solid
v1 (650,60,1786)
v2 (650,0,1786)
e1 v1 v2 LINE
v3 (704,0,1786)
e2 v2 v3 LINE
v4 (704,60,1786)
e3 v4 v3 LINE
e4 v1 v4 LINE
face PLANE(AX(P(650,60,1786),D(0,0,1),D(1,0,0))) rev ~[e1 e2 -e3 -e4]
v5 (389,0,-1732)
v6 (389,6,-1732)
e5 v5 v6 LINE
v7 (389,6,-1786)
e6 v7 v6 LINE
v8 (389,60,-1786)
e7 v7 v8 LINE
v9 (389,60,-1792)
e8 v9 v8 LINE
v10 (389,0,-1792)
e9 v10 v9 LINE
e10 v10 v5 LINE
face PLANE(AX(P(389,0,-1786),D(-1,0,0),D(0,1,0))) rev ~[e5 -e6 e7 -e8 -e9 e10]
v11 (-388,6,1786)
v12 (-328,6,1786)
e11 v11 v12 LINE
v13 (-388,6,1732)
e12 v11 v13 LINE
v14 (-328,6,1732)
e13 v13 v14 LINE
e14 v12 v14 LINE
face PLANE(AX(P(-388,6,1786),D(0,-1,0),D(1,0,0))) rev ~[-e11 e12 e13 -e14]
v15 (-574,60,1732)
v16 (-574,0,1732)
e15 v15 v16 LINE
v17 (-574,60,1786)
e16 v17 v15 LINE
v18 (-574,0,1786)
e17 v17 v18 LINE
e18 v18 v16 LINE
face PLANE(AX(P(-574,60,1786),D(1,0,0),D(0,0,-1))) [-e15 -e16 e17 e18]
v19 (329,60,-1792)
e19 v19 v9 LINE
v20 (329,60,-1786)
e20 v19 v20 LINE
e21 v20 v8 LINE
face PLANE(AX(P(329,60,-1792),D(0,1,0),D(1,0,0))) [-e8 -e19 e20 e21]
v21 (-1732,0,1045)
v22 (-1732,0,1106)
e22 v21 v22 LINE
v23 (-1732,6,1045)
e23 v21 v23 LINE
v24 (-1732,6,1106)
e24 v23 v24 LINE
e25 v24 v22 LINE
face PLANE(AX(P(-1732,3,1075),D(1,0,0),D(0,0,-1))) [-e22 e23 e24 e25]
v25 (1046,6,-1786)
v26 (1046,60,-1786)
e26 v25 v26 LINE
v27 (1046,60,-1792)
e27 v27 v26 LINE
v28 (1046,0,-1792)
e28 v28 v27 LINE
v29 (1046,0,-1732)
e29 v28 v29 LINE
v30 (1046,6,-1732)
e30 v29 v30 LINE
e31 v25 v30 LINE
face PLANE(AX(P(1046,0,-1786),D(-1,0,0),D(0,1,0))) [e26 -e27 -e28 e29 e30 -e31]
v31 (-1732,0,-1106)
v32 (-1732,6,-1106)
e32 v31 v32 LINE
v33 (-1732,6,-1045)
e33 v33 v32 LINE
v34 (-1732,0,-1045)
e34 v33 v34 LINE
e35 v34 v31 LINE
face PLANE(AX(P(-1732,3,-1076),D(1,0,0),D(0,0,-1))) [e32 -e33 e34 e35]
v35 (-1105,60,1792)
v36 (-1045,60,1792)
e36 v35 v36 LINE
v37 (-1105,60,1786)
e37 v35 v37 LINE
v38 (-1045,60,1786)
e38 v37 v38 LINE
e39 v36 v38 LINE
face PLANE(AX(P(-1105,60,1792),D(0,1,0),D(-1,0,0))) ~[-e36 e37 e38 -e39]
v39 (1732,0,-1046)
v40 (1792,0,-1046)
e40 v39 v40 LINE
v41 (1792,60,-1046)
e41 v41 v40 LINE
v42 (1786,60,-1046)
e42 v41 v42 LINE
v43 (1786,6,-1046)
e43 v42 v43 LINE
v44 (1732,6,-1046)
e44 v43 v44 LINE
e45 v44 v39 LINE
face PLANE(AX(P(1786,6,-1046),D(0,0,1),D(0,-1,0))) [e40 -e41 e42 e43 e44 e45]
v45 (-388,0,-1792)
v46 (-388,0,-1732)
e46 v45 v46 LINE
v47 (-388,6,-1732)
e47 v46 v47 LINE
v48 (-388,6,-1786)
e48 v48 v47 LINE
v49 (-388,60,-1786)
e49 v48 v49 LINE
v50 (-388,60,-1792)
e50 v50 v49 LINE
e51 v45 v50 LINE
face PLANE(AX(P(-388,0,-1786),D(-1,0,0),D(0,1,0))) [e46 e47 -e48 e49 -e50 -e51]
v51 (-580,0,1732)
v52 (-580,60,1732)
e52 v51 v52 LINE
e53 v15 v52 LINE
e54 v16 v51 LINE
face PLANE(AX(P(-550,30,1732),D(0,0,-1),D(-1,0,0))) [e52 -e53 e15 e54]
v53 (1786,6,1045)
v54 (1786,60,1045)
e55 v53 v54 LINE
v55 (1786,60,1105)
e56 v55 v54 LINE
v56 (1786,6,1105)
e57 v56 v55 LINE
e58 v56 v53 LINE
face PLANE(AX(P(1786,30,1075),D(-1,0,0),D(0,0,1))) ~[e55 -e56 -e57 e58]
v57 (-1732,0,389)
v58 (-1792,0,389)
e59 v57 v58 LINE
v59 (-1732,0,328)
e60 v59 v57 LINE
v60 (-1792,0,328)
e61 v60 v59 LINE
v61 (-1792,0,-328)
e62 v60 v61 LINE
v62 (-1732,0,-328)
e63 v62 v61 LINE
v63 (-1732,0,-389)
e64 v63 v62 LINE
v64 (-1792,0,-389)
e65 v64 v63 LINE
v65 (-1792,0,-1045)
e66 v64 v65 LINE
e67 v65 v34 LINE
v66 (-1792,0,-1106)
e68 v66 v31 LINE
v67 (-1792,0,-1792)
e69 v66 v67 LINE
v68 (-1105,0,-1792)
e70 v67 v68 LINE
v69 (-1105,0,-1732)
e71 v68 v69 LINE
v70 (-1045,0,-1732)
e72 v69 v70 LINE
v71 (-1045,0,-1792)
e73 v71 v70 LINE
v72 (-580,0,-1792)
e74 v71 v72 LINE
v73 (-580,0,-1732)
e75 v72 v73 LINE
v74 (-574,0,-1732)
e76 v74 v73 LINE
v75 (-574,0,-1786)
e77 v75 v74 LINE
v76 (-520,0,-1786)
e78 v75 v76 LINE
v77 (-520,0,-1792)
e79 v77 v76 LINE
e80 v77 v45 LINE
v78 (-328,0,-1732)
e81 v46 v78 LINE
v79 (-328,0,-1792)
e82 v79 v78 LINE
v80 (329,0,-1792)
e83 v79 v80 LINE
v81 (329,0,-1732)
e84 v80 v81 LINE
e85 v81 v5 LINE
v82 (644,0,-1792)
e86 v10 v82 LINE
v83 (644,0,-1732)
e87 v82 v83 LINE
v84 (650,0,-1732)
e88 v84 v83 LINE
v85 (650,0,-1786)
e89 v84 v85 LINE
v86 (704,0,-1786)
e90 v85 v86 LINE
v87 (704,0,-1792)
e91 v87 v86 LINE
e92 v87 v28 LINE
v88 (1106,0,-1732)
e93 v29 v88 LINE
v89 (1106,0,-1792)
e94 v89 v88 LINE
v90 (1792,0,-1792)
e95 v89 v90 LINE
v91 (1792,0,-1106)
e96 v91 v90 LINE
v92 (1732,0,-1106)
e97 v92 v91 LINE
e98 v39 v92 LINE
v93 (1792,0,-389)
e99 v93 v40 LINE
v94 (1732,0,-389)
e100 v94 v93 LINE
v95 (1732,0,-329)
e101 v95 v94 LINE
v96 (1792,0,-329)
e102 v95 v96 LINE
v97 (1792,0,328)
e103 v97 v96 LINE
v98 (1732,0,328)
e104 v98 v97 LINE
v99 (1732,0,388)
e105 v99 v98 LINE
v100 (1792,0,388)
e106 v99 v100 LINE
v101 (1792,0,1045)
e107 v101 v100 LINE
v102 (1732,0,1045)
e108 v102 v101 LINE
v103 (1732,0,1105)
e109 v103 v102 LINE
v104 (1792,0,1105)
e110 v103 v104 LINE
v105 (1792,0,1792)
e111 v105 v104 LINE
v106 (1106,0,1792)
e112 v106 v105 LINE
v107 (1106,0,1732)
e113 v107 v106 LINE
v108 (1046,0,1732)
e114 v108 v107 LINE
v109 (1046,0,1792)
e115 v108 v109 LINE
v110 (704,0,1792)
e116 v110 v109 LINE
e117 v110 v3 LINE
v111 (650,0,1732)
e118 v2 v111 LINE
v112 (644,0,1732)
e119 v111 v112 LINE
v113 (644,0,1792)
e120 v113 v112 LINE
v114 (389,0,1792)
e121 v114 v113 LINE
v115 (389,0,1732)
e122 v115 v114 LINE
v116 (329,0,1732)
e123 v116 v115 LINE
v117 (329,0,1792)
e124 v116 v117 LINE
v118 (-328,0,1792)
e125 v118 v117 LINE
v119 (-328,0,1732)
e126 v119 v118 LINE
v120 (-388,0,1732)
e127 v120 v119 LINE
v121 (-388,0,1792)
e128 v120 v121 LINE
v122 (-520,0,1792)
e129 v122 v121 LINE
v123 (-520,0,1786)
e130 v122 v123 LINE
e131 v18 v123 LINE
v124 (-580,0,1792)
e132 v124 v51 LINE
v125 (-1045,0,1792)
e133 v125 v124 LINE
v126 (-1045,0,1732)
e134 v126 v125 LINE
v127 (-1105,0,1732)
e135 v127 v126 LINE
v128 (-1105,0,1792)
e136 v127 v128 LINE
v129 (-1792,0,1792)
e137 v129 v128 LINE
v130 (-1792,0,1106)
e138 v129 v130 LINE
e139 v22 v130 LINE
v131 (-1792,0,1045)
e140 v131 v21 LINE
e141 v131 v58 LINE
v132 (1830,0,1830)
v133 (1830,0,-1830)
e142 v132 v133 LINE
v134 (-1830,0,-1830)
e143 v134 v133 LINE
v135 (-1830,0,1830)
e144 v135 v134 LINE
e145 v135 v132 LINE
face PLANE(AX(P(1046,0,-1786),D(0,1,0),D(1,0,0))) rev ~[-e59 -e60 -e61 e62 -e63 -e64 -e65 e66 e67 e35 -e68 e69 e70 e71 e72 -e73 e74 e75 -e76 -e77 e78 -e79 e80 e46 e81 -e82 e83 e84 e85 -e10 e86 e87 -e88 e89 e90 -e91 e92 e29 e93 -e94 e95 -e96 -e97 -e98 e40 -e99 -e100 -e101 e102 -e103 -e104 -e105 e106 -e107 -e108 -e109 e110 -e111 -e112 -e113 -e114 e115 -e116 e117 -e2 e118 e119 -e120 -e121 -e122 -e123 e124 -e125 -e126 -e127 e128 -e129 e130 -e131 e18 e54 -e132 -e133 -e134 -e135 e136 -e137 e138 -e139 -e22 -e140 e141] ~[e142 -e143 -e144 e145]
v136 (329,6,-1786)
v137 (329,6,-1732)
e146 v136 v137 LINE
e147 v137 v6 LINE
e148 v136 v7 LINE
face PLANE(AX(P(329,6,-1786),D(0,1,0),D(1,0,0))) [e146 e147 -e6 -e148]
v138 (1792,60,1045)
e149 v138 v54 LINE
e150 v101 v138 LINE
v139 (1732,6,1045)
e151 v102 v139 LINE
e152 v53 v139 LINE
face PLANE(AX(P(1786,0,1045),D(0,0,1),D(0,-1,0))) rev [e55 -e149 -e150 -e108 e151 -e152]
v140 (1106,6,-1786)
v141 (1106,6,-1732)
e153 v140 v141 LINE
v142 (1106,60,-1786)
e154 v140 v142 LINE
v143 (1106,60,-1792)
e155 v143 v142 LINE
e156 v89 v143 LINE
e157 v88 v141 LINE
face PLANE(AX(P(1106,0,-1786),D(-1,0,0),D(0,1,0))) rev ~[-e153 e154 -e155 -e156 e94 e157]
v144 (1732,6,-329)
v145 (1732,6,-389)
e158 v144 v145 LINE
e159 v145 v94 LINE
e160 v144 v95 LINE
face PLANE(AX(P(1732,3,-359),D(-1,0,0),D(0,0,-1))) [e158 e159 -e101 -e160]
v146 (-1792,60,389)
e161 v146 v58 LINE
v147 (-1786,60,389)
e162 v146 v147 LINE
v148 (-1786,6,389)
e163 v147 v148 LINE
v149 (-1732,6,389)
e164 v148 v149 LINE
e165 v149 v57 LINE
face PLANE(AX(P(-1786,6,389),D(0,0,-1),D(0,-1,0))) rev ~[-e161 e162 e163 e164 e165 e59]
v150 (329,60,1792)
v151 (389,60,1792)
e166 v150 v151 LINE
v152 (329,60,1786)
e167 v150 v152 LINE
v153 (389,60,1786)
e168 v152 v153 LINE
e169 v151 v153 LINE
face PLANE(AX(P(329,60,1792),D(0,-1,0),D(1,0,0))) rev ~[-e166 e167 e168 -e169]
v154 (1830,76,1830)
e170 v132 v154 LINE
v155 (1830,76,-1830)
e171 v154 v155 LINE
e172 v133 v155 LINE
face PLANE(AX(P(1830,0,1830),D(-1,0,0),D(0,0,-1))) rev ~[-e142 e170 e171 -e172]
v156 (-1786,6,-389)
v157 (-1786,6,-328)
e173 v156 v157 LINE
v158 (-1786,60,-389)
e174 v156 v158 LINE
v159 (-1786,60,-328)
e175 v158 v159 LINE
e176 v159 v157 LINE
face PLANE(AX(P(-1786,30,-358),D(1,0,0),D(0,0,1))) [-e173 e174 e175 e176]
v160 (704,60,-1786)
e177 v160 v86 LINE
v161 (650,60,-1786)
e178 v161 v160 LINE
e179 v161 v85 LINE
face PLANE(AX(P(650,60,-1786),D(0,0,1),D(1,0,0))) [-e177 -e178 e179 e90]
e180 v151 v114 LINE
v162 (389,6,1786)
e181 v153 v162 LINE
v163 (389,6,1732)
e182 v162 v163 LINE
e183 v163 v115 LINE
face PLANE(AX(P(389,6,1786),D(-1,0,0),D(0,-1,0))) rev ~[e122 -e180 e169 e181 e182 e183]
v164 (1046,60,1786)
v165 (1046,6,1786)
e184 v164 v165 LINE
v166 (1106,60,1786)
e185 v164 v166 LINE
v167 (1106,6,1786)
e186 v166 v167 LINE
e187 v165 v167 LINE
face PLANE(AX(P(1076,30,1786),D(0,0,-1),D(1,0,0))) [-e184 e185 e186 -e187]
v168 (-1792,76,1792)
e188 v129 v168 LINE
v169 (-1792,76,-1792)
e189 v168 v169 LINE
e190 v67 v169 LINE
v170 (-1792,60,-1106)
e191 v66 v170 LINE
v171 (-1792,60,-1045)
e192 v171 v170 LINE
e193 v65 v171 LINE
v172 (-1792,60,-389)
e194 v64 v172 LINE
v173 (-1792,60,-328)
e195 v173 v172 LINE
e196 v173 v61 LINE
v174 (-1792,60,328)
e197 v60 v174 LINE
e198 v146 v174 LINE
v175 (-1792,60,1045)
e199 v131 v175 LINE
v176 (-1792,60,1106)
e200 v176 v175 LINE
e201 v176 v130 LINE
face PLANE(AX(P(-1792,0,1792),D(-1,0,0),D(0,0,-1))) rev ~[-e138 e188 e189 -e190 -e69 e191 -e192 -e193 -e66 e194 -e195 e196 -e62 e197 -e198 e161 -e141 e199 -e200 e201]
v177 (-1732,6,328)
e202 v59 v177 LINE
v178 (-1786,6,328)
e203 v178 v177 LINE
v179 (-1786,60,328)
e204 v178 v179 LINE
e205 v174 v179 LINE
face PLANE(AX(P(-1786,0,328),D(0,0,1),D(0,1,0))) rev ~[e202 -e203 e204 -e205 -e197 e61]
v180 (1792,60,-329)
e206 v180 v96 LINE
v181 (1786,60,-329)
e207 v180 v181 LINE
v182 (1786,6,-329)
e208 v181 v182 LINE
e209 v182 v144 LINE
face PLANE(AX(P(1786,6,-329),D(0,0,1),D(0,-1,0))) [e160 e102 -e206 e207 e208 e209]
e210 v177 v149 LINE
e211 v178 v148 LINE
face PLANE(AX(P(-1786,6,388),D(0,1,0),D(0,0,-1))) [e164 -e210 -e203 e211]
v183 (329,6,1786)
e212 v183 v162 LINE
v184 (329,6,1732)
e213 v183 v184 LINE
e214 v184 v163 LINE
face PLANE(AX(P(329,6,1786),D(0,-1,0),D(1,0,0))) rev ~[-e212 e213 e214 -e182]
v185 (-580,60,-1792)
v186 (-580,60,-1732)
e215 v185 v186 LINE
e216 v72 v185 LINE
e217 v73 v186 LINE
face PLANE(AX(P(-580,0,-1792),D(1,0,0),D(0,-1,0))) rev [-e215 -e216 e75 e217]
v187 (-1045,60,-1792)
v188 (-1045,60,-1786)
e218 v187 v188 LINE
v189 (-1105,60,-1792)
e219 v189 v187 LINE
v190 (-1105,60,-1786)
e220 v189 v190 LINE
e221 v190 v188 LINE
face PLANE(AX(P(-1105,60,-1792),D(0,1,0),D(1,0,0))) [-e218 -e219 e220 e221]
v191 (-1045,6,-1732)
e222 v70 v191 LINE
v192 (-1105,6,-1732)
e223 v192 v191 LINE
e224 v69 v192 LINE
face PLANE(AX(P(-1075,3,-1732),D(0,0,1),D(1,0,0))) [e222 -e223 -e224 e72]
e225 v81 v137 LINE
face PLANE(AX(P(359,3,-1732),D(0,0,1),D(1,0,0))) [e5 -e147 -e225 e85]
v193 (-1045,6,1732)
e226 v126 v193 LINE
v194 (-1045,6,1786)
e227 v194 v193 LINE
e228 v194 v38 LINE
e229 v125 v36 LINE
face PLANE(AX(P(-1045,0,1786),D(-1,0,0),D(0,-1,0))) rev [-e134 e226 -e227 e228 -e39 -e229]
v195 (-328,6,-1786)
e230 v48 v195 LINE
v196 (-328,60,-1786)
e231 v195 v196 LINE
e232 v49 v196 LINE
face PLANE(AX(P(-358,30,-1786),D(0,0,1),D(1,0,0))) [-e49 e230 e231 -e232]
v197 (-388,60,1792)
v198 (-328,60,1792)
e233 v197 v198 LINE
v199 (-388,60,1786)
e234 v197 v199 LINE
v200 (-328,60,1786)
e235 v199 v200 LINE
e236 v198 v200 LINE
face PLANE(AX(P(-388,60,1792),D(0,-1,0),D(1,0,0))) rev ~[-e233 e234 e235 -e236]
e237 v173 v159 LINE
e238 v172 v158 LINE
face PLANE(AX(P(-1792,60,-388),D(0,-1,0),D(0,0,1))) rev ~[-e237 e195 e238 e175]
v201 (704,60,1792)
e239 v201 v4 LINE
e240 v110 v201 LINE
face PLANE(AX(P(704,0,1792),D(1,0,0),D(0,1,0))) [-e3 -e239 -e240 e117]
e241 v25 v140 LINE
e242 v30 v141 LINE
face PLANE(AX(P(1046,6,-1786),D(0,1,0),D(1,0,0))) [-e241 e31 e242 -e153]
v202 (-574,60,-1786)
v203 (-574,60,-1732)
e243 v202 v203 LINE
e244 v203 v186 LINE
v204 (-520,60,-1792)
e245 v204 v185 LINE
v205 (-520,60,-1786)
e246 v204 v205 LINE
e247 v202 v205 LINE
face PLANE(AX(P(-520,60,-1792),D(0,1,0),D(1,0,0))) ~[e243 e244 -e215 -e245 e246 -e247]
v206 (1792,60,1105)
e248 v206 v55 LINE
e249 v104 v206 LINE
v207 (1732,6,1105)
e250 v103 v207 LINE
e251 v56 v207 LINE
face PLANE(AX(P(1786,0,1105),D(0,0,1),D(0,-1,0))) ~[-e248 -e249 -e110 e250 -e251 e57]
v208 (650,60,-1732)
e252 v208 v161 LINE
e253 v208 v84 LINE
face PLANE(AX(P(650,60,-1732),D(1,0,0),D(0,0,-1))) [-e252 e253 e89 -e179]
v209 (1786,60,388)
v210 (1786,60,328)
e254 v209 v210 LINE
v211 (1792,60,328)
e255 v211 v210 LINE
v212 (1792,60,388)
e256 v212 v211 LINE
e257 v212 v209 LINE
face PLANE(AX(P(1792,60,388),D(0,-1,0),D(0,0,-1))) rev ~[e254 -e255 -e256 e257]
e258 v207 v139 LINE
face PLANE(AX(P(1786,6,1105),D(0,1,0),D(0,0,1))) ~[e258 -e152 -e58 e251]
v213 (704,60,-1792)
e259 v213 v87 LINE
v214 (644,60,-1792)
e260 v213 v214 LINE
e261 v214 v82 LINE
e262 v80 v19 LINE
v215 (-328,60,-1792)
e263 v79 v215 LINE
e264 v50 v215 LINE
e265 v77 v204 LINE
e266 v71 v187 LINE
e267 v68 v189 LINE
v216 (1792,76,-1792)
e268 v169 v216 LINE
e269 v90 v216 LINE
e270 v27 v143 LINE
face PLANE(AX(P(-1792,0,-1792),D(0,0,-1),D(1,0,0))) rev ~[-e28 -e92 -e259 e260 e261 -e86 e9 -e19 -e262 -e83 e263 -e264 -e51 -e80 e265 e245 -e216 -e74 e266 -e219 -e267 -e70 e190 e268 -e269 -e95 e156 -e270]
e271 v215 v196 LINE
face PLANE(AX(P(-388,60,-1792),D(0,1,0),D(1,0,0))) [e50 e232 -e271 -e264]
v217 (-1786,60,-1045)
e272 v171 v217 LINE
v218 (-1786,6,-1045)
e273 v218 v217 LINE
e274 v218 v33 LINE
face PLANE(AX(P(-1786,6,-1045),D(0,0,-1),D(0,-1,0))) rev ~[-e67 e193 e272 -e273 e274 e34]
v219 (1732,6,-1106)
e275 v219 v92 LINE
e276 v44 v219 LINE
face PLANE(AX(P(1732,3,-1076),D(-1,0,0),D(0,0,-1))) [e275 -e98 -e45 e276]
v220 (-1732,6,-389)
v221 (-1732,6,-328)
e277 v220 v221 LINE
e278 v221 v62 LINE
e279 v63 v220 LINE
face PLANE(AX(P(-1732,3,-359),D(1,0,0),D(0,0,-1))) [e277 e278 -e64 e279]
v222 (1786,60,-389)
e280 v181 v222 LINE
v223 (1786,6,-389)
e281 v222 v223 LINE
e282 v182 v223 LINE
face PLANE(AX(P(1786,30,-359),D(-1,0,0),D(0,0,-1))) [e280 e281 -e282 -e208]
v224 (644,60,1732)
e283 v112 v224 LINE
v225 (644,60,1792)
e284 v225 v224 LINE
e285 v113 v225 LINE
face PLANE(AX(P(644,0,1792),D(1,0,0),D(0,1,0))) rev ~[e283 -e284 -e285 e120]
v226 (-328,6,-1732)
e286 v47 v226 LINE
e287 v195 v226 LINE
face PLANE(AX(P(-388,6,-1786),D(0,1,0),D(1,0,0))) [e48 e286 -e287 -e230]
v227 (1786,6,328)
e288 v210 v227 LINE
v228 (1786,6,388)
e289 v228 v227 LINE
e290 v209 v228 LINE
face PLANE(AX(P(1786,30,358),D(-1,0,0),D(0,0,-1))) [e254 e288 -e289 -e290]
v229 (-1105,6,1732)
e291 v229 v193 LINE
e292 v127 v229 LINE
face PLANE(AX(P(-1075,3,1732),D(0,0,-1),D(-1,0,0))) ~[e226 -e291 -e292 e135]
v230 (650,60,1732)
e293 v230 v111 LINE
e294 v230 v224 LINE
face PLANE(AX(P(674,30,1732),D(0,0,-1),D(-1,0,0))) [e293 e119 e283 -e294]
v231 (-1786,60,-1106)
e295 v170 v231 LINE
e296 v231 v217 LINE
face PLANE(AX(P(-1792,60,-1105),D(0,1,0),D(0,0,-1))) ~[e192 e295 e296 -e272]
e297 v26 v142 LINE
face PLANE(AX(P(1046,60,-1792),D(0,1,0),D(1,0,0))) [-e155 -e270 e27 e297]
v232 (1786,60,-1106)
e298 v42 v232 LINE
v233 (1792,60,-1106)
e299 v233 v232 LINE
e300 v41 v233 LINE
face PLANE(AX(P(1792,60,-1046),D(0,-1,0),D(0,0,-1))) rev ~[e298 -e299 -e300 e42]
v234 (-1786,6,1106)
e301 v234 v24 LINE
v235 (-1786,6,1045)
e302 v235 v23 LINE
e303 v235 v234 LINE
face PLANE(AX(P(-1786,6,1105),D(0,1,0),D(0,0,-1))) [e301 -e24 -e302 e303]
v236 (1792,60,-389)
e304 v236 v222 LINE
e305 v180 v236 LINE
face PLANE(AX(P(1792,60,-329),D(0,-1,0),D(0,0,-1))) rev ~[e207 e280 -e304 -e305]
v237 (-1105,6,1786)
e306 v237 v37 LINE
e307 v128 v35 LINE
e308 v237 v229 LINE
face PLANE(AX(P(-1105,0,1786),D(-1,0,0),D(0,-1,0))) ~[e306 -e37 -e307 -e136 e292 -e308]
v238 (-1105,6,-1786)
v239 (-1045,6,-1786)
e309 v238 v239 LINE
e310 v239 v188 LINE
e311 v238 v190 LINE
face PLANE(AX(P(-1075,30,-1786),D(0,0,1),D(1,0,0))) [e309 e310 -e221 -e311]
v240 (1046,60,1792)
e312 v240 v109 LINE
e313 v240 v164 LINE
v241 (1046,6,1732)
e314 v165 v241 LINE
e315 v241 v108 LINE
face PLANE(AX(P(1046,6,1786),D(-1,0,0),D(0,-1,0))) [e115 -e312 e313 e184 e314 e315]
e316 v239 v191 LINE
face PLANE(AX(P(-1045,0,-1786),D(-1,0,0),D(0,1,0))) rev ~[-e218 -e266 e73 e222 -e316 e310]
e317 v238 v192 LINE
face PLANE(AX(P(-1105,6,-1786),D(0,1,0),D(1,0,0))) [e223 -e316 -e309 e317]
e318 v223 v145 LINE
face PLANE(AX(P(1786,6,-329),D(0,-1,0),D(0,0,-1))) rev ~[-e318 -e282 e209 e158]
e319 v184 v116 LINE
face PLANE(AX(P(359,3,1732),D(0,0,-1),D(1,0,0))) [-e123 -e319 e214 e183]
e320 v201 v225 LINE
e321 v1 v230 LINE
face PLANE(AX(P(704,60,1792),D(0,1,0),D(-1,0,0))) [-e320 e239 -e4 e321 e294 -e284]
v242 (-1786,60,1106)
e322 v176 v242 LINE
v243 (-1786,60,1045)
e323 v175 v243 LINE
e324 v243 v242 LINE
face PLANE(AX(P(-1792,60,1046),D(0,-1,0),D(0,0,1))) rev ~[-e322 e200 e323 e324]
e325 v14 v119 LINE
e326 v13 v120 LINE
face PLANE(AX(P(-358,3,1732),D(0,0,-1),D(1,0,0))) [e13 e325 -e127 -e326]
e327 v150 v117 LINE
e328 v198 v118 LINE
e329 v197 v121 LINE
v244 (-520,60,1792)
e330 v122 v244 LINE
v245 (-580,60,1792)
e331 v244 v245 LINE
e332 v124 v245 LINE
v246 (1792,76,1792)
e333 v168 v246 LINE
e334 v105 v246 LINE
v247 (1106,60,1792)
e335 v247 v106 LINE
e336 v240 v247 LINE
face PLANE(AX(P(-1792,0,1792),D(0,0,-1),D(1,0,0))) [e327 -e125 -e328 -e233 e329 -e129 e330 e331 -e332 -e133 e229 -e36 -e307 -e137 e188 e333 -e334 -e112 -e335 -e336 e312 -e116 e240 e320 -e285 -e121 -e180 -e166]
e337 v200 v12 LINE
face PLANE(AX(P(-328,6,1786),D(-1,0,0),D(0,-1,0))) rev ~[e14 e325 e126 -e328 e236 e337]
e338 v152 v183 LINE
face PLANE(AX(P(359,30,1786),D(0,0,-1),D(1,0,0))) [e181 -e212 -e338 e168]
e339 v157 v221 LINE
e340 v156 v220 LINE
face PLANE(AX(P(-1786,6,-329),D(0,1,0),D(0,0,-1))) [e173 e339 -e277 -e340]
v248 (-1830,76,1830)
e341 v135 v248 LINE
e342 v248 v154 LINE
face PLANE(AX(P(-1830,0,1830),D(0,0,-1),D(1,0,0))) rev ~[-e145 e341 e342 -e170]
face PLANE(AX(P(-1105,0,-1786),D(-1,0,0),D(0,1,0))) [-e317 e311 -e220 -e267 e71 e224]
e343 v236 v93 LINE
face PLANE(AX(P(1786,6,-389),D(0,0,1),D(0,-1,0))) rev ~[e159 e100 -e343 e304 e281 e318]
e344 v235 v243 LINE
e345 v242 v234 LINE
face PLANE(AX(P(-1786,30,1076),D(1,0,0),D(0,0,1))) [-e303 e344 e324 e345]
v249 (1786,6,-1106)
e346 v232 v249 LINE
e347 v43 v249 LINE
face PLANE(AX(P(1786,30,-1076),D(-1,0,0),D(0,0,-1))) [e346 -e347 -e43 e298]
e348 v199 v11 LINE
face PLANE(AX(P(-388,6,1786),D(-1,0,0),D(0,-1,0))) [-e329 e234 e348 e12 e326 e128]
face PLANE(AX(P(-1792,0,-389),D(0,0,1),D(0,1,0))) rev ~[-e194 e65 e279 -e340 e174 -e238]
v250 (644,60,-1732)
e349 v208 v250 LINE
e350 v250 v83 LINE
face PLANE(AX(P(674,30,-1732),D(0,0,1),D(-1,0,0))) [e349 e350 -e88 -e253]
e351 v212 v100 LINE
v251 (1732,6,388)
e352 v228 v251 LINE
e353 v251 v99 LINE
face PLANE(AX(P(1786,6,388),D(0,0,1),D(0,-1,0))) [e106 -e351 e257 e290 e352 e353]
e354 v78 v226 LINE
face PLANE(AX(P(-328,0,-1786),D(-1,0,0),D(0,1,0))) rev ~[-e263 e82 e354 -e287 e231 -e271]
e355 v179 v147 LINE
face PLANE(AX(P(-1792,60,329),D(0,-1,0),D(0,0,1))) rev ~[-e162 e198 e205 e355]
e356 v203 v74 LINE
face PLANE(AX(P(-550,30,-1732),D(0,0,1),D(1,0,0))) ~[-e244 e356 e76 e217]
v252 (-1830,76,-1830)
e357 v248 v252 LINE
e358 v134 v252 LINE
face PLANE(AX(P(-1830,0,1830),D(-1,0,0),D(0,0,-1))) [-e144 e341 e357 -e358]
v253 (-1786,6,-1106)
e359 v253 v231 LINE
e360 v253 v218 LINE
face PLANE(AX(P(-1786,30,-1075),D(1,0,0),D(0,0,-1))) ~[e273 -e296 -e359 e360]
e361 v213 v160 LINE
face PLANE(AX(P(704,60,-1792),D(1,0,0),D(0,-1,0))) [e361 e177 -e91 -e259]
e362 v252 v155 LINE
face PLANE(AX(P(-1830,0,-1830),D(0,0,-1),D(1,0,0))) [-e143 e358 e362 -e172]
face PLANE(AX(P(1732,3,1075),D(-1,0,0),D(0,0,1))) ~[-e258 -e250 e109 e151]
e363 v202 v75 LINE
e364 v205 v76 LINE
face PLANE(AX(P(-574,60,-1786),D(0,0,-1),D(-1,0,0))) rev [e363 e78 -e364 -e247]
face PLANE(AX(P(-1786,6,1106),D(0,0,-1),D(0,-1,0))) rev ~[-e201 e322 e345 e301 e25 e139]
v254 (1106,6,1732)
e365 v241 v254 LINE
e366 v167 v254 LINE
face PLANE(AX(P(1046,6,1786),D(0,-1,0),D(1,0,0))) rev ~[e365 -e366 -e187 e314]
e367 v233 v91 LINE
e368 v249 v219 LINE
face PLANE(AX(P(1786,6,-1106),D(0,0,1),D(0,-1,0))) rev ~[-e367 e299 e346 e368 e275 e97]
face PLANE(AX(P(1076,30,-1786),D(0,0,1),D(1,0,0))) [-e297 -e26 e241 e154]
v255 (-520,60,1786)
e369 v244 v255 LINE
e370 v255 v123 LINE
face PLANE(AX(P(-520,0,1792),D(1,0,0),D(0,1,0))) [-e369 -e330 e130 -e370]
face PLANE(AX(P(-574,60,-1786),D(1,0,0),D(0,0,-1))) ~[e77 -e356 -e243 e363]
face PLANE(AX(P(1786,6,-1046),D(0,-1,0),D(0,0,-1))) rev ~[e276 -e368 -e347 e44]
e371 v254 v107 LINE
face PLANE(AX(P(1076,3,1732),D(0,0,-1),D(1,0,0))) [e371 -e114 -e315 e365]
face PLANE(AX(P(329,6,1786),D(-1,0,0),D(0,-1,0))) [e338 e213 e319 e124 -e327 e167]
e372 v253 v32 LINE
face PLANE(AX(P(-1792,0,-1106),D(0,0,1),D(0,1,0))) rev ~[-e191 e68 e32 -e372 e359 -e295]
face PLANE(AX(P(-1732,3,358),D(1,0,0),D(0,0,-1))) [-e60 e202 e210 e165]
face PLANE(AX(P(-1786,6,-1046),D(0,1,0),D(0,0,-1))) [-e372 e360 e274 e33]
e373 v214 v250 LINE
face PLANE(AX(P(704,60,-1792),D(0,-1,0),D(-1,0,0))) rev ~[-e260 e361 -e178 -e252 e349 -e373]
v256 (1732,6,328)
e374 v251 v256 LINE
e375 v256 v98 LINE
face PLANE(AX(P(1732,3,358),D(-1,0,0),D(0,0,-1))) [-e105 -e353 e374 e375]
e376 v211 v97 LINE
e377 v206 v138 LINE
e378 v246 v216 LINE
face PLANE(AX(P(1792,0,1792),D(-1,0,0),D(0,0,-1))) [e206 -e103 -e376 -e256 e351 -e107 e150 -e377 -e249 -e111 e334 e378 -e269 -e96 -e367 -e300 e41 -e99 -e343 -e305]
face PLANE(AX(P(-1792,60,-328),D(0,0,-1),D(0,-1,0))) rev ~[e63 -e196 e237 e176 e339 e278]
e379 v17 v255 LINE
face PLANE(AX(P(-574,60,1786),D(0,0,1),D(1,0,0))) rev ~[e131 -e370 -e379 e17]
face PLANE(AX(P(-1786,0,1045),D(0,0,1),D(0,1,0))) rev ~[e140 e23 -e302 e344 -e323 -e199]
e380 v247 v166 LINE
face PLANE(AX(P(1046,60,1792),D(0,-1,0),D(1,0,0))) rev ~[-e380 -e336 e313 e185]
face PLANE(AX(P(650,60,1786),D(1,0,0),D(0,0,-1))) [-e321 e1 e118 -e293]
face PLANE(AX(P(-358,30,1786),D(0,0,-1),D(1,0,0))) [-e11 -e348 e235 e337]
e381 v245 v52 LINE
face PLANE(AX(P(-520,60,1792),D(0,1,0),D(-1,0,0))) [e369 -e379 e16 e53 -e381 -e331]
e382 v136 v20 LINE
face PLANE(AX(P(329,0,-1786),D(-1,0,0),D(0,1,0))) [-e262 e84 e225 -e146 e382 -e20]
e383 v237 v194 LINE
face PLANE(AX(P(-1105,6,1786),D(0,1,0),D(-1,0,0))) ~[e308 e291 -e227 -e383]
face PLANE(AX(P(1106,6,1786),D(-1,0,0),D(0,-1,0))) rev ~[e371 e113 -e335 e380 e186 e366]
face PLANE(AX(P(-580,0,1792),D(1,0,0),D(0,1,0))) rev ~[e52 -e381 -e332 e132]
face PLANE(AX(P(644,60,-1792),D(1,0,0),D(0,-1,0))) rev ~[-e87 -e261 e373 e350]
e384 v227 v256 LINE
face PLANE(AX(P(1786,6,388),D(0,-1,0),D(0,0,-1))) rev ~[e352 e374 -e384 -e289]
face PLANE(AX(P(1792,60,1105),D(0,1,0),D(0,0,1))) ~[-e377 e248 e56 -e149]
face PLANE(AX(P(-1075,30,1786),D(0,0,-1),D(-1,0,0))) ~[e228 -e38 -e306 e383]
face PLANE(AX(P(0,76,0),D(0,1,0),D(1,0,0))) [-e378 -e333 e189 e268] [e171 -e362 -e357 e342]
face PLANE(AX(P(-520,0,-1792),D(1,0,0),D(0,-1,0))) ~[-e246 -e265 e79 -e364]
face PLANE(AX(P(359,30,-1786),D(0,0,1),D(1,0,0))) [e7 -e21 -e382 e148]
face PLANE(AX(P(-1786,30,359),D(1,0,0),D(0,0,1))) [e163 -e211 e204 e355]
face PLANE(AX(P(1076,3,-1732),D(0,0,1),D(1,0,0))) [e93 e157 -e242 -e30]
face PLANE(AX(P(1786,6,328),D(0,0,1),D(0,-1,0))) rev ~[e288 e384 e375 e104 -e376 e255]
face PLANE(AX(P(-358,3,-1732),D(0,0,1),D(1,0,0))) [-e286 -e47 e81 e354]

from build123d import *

# Parameters (mm, degrees)
SKETCH1_W                = 3660
SKETCH1_H                = 3660
SKETCH1_W_2              = 3584
SKETCH1_H_2              = 3584
BOSS_EXTRUDE1_DEPTH      = 76
SKETCH2_W                = 60
SKETCH2_H                = 60
BOSS_EXTRUDE2_DEPTH      = 6
SKETCH4_W                = 60
SKETCH4_H                = 6
BOSS_EXTRUDE3_DEPTH      = 54
LPATTERN1_COUNT          = 4
LPATTERN1_PITCH          = 717
MIRROR1_COPY_1_SKETCH_W  = 60
MIRROR1_COPY_1_SKETCH_H  = 60
MIRROR1_COPY_1_DEPTH     = 6
MIRROR1_COPY_2_SKETCH_W  = 60
MIRROR1_COPY_2_SKETCH_H  = 60
MIRROR1_COPY_2_DEPTH     = 6
MIRROR1_COPY_3_SKETCH_W  = 60
MIRROR1_COPY_3_SKETCH_H  = 60
MIRROR1_COPY_3_DEPTH     = 6
MIRROR1_COPY_4_SKETCH_W  = 60
MIRROR1_COPY_4_SKETCH_H  = 6
MIRROR1_COPY_4_DEPTH     = 54
MIRROR1_COPY_5_SKETCH_W  = 60
MIRROR1_COPY_5_SKETCH_H  = 6
MIRROR1_COPY_5_DEPTH     = 54
MIRROR1_COPY_6_SKETCH_W  = 60
MIRROR1_COPY_6_SKETCH_H  = 6
MIRROR1_COPY_6_DEPTH     = 54
MIRROR2_COPY_1_SKETCH_W  = 60
MIRROR2_COPY_1_SKETCH_H  = 60
MIRROR2_COPY_1_DEPTH     = 6
MIRROR2_COPY_2_SKETCH_W  = 60
MIRROR2_COPY_2_SKETCH_H  = 60
MIRROR2_COPY_2_DEPTH     = 6
MIRROR2_COPY_3_SKETCH_W  = 60
MIRROR2_COPY_3_SKETCH_H  = 60
MIRROR2_COPY_3_DEPTH     = 6
MIRROR2_COPY_4_SKETCH_W  = 60
MIRROR2_COPY_4_SKETCH_H  = 6
MIRROR2_COPY_4_DEPTH     = 54
MIRROR2_COPY_5_SKETCH_W  = 60
MIRROR2_COPY_5_SKETCH_H  = 6
MIRROR2_COPY_5_DEPTH     = 54
MIRROR2_COPY_6_SKETCH_W  = 60
MIRROR2_COPY_6_SKETCH_H  = 6
MIRROR2_COPY_6_DEPTH     = 54
MIRROR3_COPY_1_SKETCH_W  = 60
MIRROR3_COPY_1_SKETCH_H  = 60
MIRROR3_COPY_1_DEPTH     = 6
MIRROR3_COPY_2_SKETCH_W  = 60
MIRROR3_COPY_2_SKETCH_H  = 6
MIRROR3_COPY_2_DEPTH     = 54
MIRROR3_COPY_3_SKETCH_W  = 60
MIRROR3_COPY_3_SKETCH_H  = 60
MIRROR3_COPY_3_DEPTH     = 6
MIRROR3_COPY_4_SKETCH_W  = 60
MIRROR3_COPY_4_SKETCH_H  = 60
MIRROR3_COPY_4_DEPTH     = 6
MIRROR3_COPY_5_SKETCH_W  = 60
MIRROR3_COPY_5_SKETCH_H  = 60
MIRROR3_COPY_5_DEPTH     = 6
MIRROR3_COPY_6_SKETCH_W  = 60
MIRROR3_COPY_6_SKETCH_H  = 6
MIRROR3_COPY_6_DEPTH     = 54
MIRROR3_COPY_7_SKETCH_W  = 60
MIRROR3_COPY_7_SKETCH_H  = 6
MIRROR3_COPY_7_DEPTH     = 54
MIRROR3_COPY_8_SKETCH_W  = 60
MIRROR3_COPY_8_SKETCH_H  = 6
MIRROR3_COPY_8_DEPTH     = 54
MIRROR3_COPY_9_SKETCH_W  = 60
MIRROR3_COPY_9_SKETCH_H  = 6
MIRROR3_COPY_9_DEPTH     = 54
MIRROR3_COPY_10_SKETCH_W = 60
MIRROR3_COPY_10_SKETCH_H = 60
MIRROR3_COPY_10_DEPTH    = 6
MIRROR3_COPY_11_SKETCH_W = 60
MIRROR3_COPY_11_SKETCH_H = 60
MIRROR3_COPY_11_DEPTH    = 6
MIRROR3_COPY_12_SKETCH_W = 60
MIRROR3_COPY_12_SKETCH_H = 60
MIRROR3_COPY_12_DEPTH    = 6
MIRROR3_COPY_13_SKETCH_W = 60
MIRROR3_COPY_13_SKETCH_H = 6
MIRROR3_COPY_13_DEPTH    = 54
MIRROR3_COPY_14_SKETCH_W = 60
MIRROR3_COPY_14_SKETCH_H = 6
MIRROR3_COPY_14_DEPTH    = 54
MIRROR3_COPY_15_SKETCH_W = 60
MIRROR3_COPY_15_SKETCH_H = 6
MIRROR3_COPY_15_DEPTH    = 54
MIRROR3_COPY_16_SKETCH_W = 60
MIRROR3_COPY_16_SKETCH_H = 6
MIRROR3_COPY_16_DEPTH    = 54
SKETCH5_W                = 60
SKETCH5_H                = 60
BOSS_EXTRUDE4_DEPTH      = 60
SKETCH7_W                = 54
SKETCH7_H                = 54
CUT_EXTRUDE2_DEPTH       = 60
LPATTERN2_COUNT          = 2
LPATTERN2_PITCH          = 1224
MIRROR4_COPY_1_SKETCH_W  = 60
MIRROR4_COPY_1_SKETCH_H  = 60
MIRROR4_COPY_1_DEPTH     = 60
MIRROR4_COPY_2_SKETCH_W  = 54
MIRROR4_COPY_2_SKETCH_H  = 54
MIRROR4_COPY_2_DEPTH     = 60


with BuildPart() as part:
    # Sketch1 → Boss-Extrude1 (new body)
    with BuildSketch(Plane(origin=(0, 0, 0), x_dir=(1, 0, 0), z_dir=(0, 1, 0))):
        Rectangle(SKETCH1_W, SKETCH1_H)
        Rectangle(SKETCH1_W_2, SKETCH1_H_2, mode=Mode.SUBTRACT)
    extrude(amount=BOSS_EXTRUDE1_DEPTH)

    # Sketch2 → Boss-Extrude2 (add)
    with BuildSketch(Plane(origin=(-1792, 0, 0), x_dir=(0, 0, -1), z_dir=(1, 0, 0))):
        with Locations((-1075, 30)):
            Rectangle(SKETCH2_W, SKETCH2_H)
    boss_extrude2 = extrude(amount=BOSS_EXTRUDE2_DEPTH)

    # Sketch4 → Boss-Extrude3 (add)
    with BuildSketch(Plane(origin=(-1786, 0, 0), x_dir=(0, 0, -1), z_dir=(1, 0, 0))):
        with Locations((-1075, 3)):
            Rectangle(SKETCH4_W, SKETCH4_H)
    boss_extrude3 = extrude(amount=BOSS_EXTRUDE3_DEPTH)

    # LPattern1: Boss-Extrude2, Boss-Extrude3 ×4
    with Locations(*[(0, 0, -i * LPATTERN1_PITCH) for i in range(1, LPATTERN1_COUNT)]):
        add(boss_extrude2)
        add(boss_extrude3)

    # Mirror1: Boss-Extrude2, Boss-Extrude3 across plane
    add(boss_extrude2.mirror(Plane(origin=(0, 0, 0), x_dir=(0, 0, 1), z_dir=(1, 0, 0))))
    add(boss_extrude3.mirror(Plane(origin=(0, 0, 0), x_dir=(0, 0, 1), z_dir=(1, 0, 0))))

    # Mirror1 copy 1 sketch → Mirror1 copy 1 (add)
    with BuildSketch(Plane(origin=(1792, 0, -717), x_dir=(0, 0, -1), z_dir=(-1, 0, 0))):
        with Locations((-1075, -30)):
            Rectangle(MIRROR1_COPY_1_SKETCH_W, MIRROR1_COPY_1_SKETCH_H)
    extrude(amount=MIRROR1_COPY_1_DEPTH)

    # Mirror1 copy 2 sketch → Mirror1 copy 2 (add)
    with BuildSketch(Plane(origin=(1792, 0, -1434), x_dir=(0, 0, -1), z_dir=(-1, 0, 0))):
        with Locations((-1075, -30)):
            Rectangle(MIRROR1_COPY_2_SKETCH_W, MIRROR1_COPY_2_SKETCH_H)
    extrude(amount=MIRROR1_COPY_2_DEPTH)

    # Mirror1 copy 3 sketch → Mirror1 copy 3 (add)
    with BuildSketch(Plane(origin=(1792, 0, -2151), x_dir=(0, 0, -1), z_dir=(-1, 0, 0))):
        with Locations((-1075, -30)):
            Rectangle(MIRROR1_COPY_3_SKETCH_W, MIRROR1_COPY_3_SKETCH_H)
    extrude(amount=MIRROR1_COPY_3_DEPTH)

    # Mirror1 copy 4 sketch → Mirror1 copy 4 (add)
    with BuildSketch(Plane(origin=(1786, 0, -717), x_dir=(0, 0, -1), z_dir=(-1, 0, 0))):
        with Locations((-1075, -3)):
            Rectangle(MIRROR1_COPY_4_SKETCH_W, MIRROR1_COPY_4_SKETCH_H)
    extrude(amount=MIRROR1_COPY_4_DEPTH)

    # Mirror1 copy 5 sketch → Mirror1 copy 5 (add)
    with BuildSketch(Plane(origin=(1786, 0, -1434), x_dir=(0, 0, -1), z_dir=(-1, 0, 0))):
        with Locations((-1075, -3)):
            Rectangle(MIRROR1_COPY_5_SKETCH_W, MIRROR1_COPY_5_SKETCH_H)
    extrude(amount=MIRROR1_COPY_5_DEPTH)

    # Mirror1 copy 6 sketch → Mirror1 copy 6 (add)
    with BuildSketch(Plane(origin=(1786, 0, -2151), x_dir=(0, 0, -1), z_dir=(-1, 0, 0))):
        with Locations((-1075, -3)):
            Rectangle(MIRROR1_COPY_6_SKETCH_W, MIRROR1_COPY_6_SKETCH_H)
    extrude(amount=MIRROR1_COPY_6_DEPTH)

    # Mirror2: Boss-Extrude2, Boss-Extrude3 across plane
    add(boss_extrude2.mirror(Plane(origin=(0, 0, 0), x_dir=(-0.707106781, 0, 0.707106781), z_dir=(-0.707106781, 0, -0.707106781))))
    add(boss_extrude3.mirror(Plane(origin=(0, 0, 0), x_dir=(-0.707106781, 0, 0.707106781), z_dir=(-0.707106781, 0, -0.707106781))))

    # Mirror2 copy 1 sketch → Mirror2 copy 1 (add)
    with BuildSketch(Plane(origin=(717, 0, 1792), x_dir=(1, 0, 0), z_dir=(0, 0, -1))):
        with Locations((-1075, -30)):
            Rectangle(MIRROR2_COPY_1_SKETCH_W, MIRROR2_COPY_1_SKETCH_H)
    extrude(amount=MIRROR2_COPY_1_DEPTH)

    # Mirror2 copy 2 sketch → Mirror2 copy 2 (add)
    with BuildSketch(Plane(origin=(1434, 0, 1792), x_dir=(1, 0, 0), z_dir=(0, 0, -1))):
        with Locations((-1075, -30)):
            Rectangle(MIRROR2_COPY_2_SKETCH_W, MIRROR2_COPY_2_SKETCH_H)
    extrude(amount=MIRROR2_COPY_2_DEPTH)

    # Mirror2 copy 3 sketch → Mirror2 copy 3 (add)
    with BuildSketch(Plane(origin=(2151, 0, 1792), x_dir=(1, 0, 0), z_dir=(0, 0, -1))):
        with Locations((-1075, -30)):
            Rectangle(MIRROR2_COPY_3_SKETCH_W, MIRROR2_COPY_3_SKETCH_H)
    extrude(amount=MIRROR2_COPY_3_DEPTH)

    # Mirror2 copy 4 sketch → Mirror2 copy 4 (add)
    with BuildSketch(Plane(origin=(717, 0, 1786), x_dir=(1, 0, 0), z_dir=(0, 0, -1))):
        with Locations((-1075, -3)):
            Rectangle(MIRROR2_COPY_4_SKETCH_W, MIRROR2_COPY_4_SKETCH_H)
    extrude(amount=MIRROR2_COPY_4_DEPTH)

    # Mirror2 copy 5 sketch → Mirror2 copy 5 (add)
    with BuildSketch(Plane(origin=(1434, 0, 1786), x_dir=(1, 0, 0), z_dir=(0, 0, -1))):
        with Locations((-1075, -3)):
            Rectangle(MIRROR2_COPY_5_SKETCH_W, MIRROR2_COPY_5_SKETCH_H)
    extrude(amount=MIRROR2_COPY_5_DEPTH)

    # Mirror2 copy 6 sketch → Mirror2 copy 6 (add)
    with BuildSketch(Plane(origin=(2151, 0, 1786), x_dir=(1, 0, 0), z_dir=(0, 0, -1))):
        with Locations((-1075, -3)):
            Rectangle(MIRROR2_COPY_6_SKETCH_W, MIRROR2_COPY_6_SKETCH_H)
    extrude(amount=MIRROR2_COPY_6_DEPTH)

    # Mirror3: Boss-Extrude2 across plane
    add(boss_extrude2.mirror(Plane.XY))

    # Mirror3 copy 1 sketch → Mirror3 copy 1 (add)
    with BuildSketch(Plane.XY.offset(-1792)):
        with Locations((-1075, 30)):
            Rectangle(MIRROR3_COPY_1_SKETCH_W, MIRROR3_COPY_1_SKETCH_H)
    extrude(amount=MIRROR3_COPY_1_DEPTH)

    # Mirror3 copy 2 sketch → Mirror3 copy 2 (add)
    with BuildSketch(Plane.XY.offset(-1786)):
        with Locations((-1075, 3)):
            Rectangle(MIRROR3_COPY_2_SKETCH_W, MIRROR3_COPY_2_SKETCH_H)
    extrude(amount=MIRROR3_COPY_2_DEPTH)

    # Mirror3 copy 3 sketch → Mirror3 copy 3 (add)
    with BuildSketch(Plane(origin=(717, 0, -1792), x_dir=(1, 0, 0), z_dir=(0, 0, 1))):
        with Locations((-1075, 30)):
            Rectangle(MIRROR3_COPY_3_SKETCH_W, MIRROR3_COPY_3_SKETCH_H)
    extrude(amount=MIRROR3_COPY_3_DEPTH)

    # Mirror3 copy 4 sketch → Mirror3 copy 4 (add)
    with BuildSketch(Plane(origin=(1434, 0, -1792), x_dir=(1, 0, 0), z_dir=(0, 0, 1))):
        with Locations((-1075, 30)):
            Rectangle(MIRROR3_COPY_4_SKETCH_W, MIRROR3_COPY_4_SKETCH_H)
    extrude(amount=MIRROR3_COPY_4_DEPTH)

    # Mirror3 copy 5 sketch → Mirror3 copy 5 (add)
    with BuildSketch(Plane(origin=(2151, 0, -1792), x_dir=(1, 0, 0), z_dir=(0, 0, 1))):
        with Locations((-1075, 30)):
            Rectangle(MIRROR3_COPY_5_SKETCH_W, MIRROR3_COPY_5_SKETCH_H)
    extrude(amount=MIRROR3_COPY_5_DEPTH)

    # Mirror3 copy 6 sketch → Mirror3 copy 6 (add)
    with BuildSketch(Plane(origin=(717, 0, -1786), x_dir=(1, 0, 0), z_dir=(0, 0, 1))):
        with Locations((-1075, 3)):
            Rectangle(MIRROR3_COPY_6_SKETCH_W, MIRROR3_COPY_6_SKETCH_H)
    extrude(amount=MIRROR3_COPY_6_DEPTH)

    # Mirror3 copy 7 sketch → Mirror3 copy 7 (add)
    with BuildSketch(Plane(origin=(1434, 0, -1786), x_dir=(1, 0, 0), z_dir=(0, 0, 1))):
        with Locations((-1075, 3)):
            Rectangle(MIRROR3_COPY_7_SKETCH_W, MIRROR3_COPY_7_SKETCH_H)
    extrude(amount=MIRROR3_COPY_7_DEPTH)

    # Mirror3 copy 8 sketch → Mirror3 copy 8 (add)
    with BuildSketch(Plane(origin=(2151, 0, -1786), x_dir=(1, 0, 0), z_dir=(0, 0, 1))):
        with Locations((-1075, 3)):
            Rectangle(MIRROR3_COPY_8_SKETCH_W, MIRROR3_COPY_8_SKETCH_H)
    extrude(amount=MIRROR3_COPY_8_DEPTH)

    # Mirror3 copy 9 sketch → Mirror3 copy 9 (add)
    with BuildSketch(Plane(origin=(-1786, 0, 0), x_dir=(0, 0, 1), z_dir=(1, 0, 0))):
        with Locations((-1075, -3)):
            Rectangle(MIRROR3_COPY_9_SKETCH_W, MIRROR3_COPY_9_SKETCH_H)
    extrude(amount=MIRROR3_COPY_9_DEPTH)

    # Mirror3 copy 10 sketch → Mirror3 copy 10 (add)
    with BuildSketch(Plane(origin=(-1792, 0, 717), x_dir=(0, 0, 1), z_dir=(1, 0, 0))):
        with Locations((-1075, -30)):
            Rectangle(MIRROR3_COPY_10_SKETCH_W, MIRROR3_COPY_10_SKETCH_H)
    extrude(amount=MIRROR3_COPY_10_DEPTH)

    # Mirror3 copy 11 sketch → Mirror3 copy 11 (add)
    with BuildSketch(Plane(origin=(-1792, 0, 1434), x_dir=(0, 0, 1), z_dir=(1, 0, 0))):
        with Locations((-1075, -30)):
            Rectangle(MIRROR3_COPY_11_SKETCH_W, MIRROR3_COPY_11_SKETCH_H)
    extrude(amount=MIRROR3_COPY_11_DEPTH)

    # Mirror3 copy 12 sketch → Mirror3 copy 12 (add)
    with BuildSketch(Plane(origin=(-1792, 0, 2151), x_dir=(0, 0, 1), z_dir=(1, 0, 0))):
        with Locations((-1075, -30)):
            Rectangle(MIRROR3_COPY_12_SKETCH_W, MIRROR3_COPY_12_SKETCH_H)
    extrude(amount=MIRROR3_COPY_12_DEPTH)

    # Mirror3 copy 13 sketch → Mirror3 copy 13 (add)
    with BuildSketch(Plane(origin=(-1786, 0, 717), x_dir=(0, 0, 1), z_dir=(1, 0, 0))):
        with Locations((-1075, -3)):
            Rectangle(MIRROR3_COPY_13_SKETCH_W, MIRROR3_COPY_13_SKETCH_H)
    extrude(amount=MIRROR3_COPY_13_DEPTH)

    # Mirror3 copy 14 sketch → Mirror3 copy 14 (add)
    with BuildSketch(Plane(origin=(-1786, 0, 1434), x_dir=(0, 0, 1), z_dir=(1, 0, 0))):
        with Locations((-1075, -3)):
            Rectangle(MIRROR3_COPY_14_SKETCH_W, MIRROR3_COPY_14_SKETCH_H)
    extrude(amount=MIRROR3_COPY_14_DEPTH)

    # Mirror3 copy 15 sketch → Mirror3 copy 15 (add)
    with BuildSketch(Plane(origin=(-1786, 0, 2151), x_dir=(0, 0, 1), z_dir=(1, 0, 0))):
        with Locations((-1075, -3)):
            Rectangle(MIRROR3_COPY_15_SKETCH_W, MIRROR3_COPY_15_SKETCH_H)
    extrude(amount=MIRROR3_COPY_15_DEPTH)

    # Mirror3 copy 16 sketch → Mirror3 copy 16 (add)
    with BuildSketch(Plane(origin=(-1786, 0, 0), x_dir=(0, 0, 1), z_dir=(1, 0, 0))):
        with Locations((-1075, -3)):
            Rectangle(MIRROR3_COPY_16_SKETCH_W, MIRROR3_COPY_16_SKETCH_H)
    extrude(amount=MIRROR3_COPY_16_DEPTH)

    # Sketch5 → Boss-Extrude4 (add)
    with BuildSketch(Plane(origin=(0, 0, 1792), x_dir=(-1, 0, 0), z_dir=(0, 0, -1))):
        with Locations((550, 30)):
            Rectangle(SKETCH5_W, SKETCH5_H)
    boss_extrude4 = extrude(amount=BOSS_EXTRUDE4_DEPTH)

    # Sketch7 → Cut-Extrude2 (cut)
    with BuildSketch(Plane(origin=(0, 60, 0), x_dir=(1, 0, 0), z_dir=(0, 1, 0))):
        with Locations((-547, -1759)):
            Rectangle(SKETCH7_W, SKETCH7_H)
    cut_extrude2 = extrude(amount=-CUT_EXTRUDE2_DEPTH, mode=Mode.SUBTRACT)

    # LPattern2: Boss-Extrude4, Cut-Extrude2 ×2
    with Locations(*[(i * LPATTERN2_PITCH, 0, 0) for i in range(1, LPATTERN2_COUNT)]):
        add(boss_extrude4)
        add(cut_extrude2, mode=Mode.SUBTRACT)

    # Mirror4: Boss-Extrude4, Cut-Extrude2 across plane
    add(boss_extrude4.mirror(Plane.XY))
    add(cut_extrude2.mirror(Plane.XY), mode=Mode.SUBTRACT)

    # Mirror4 copy 1 sketch → Mirror4 copy 1 (add)
    with BuildSketch(Plane(origin=(1224, 0, -1792), x_dir=(-1, 0, 0), z_dir=(0, 0, 1))):
        with Locations((550, -30)):
            Rectangle(MIRROR4_COPY_1_SKETCH_W, MIRROR4_COPY_1_SKETCH_H)
    extrude(amount=MIRROR4_COPY_1_DEPTH)

    # Mirror4 copy 2 sketch → Mirror4 copy 2 (cut)
    with BuildSketch(Plane(origin=(1224, 60, 0), x_dir=(1, 0, 0), z_dir=(0, 1, 0))):
        with Locations((-547, 1759)):
            Rectangle(MIRROR4_COPY_2_SKETCH_W, MIRROR4_COPY_2_SKETCH_H)
    extrude(amount=-MIRROR4_COPY_2_DEPTH, mode=Mode.SUBTRACT)


solid = part.part
